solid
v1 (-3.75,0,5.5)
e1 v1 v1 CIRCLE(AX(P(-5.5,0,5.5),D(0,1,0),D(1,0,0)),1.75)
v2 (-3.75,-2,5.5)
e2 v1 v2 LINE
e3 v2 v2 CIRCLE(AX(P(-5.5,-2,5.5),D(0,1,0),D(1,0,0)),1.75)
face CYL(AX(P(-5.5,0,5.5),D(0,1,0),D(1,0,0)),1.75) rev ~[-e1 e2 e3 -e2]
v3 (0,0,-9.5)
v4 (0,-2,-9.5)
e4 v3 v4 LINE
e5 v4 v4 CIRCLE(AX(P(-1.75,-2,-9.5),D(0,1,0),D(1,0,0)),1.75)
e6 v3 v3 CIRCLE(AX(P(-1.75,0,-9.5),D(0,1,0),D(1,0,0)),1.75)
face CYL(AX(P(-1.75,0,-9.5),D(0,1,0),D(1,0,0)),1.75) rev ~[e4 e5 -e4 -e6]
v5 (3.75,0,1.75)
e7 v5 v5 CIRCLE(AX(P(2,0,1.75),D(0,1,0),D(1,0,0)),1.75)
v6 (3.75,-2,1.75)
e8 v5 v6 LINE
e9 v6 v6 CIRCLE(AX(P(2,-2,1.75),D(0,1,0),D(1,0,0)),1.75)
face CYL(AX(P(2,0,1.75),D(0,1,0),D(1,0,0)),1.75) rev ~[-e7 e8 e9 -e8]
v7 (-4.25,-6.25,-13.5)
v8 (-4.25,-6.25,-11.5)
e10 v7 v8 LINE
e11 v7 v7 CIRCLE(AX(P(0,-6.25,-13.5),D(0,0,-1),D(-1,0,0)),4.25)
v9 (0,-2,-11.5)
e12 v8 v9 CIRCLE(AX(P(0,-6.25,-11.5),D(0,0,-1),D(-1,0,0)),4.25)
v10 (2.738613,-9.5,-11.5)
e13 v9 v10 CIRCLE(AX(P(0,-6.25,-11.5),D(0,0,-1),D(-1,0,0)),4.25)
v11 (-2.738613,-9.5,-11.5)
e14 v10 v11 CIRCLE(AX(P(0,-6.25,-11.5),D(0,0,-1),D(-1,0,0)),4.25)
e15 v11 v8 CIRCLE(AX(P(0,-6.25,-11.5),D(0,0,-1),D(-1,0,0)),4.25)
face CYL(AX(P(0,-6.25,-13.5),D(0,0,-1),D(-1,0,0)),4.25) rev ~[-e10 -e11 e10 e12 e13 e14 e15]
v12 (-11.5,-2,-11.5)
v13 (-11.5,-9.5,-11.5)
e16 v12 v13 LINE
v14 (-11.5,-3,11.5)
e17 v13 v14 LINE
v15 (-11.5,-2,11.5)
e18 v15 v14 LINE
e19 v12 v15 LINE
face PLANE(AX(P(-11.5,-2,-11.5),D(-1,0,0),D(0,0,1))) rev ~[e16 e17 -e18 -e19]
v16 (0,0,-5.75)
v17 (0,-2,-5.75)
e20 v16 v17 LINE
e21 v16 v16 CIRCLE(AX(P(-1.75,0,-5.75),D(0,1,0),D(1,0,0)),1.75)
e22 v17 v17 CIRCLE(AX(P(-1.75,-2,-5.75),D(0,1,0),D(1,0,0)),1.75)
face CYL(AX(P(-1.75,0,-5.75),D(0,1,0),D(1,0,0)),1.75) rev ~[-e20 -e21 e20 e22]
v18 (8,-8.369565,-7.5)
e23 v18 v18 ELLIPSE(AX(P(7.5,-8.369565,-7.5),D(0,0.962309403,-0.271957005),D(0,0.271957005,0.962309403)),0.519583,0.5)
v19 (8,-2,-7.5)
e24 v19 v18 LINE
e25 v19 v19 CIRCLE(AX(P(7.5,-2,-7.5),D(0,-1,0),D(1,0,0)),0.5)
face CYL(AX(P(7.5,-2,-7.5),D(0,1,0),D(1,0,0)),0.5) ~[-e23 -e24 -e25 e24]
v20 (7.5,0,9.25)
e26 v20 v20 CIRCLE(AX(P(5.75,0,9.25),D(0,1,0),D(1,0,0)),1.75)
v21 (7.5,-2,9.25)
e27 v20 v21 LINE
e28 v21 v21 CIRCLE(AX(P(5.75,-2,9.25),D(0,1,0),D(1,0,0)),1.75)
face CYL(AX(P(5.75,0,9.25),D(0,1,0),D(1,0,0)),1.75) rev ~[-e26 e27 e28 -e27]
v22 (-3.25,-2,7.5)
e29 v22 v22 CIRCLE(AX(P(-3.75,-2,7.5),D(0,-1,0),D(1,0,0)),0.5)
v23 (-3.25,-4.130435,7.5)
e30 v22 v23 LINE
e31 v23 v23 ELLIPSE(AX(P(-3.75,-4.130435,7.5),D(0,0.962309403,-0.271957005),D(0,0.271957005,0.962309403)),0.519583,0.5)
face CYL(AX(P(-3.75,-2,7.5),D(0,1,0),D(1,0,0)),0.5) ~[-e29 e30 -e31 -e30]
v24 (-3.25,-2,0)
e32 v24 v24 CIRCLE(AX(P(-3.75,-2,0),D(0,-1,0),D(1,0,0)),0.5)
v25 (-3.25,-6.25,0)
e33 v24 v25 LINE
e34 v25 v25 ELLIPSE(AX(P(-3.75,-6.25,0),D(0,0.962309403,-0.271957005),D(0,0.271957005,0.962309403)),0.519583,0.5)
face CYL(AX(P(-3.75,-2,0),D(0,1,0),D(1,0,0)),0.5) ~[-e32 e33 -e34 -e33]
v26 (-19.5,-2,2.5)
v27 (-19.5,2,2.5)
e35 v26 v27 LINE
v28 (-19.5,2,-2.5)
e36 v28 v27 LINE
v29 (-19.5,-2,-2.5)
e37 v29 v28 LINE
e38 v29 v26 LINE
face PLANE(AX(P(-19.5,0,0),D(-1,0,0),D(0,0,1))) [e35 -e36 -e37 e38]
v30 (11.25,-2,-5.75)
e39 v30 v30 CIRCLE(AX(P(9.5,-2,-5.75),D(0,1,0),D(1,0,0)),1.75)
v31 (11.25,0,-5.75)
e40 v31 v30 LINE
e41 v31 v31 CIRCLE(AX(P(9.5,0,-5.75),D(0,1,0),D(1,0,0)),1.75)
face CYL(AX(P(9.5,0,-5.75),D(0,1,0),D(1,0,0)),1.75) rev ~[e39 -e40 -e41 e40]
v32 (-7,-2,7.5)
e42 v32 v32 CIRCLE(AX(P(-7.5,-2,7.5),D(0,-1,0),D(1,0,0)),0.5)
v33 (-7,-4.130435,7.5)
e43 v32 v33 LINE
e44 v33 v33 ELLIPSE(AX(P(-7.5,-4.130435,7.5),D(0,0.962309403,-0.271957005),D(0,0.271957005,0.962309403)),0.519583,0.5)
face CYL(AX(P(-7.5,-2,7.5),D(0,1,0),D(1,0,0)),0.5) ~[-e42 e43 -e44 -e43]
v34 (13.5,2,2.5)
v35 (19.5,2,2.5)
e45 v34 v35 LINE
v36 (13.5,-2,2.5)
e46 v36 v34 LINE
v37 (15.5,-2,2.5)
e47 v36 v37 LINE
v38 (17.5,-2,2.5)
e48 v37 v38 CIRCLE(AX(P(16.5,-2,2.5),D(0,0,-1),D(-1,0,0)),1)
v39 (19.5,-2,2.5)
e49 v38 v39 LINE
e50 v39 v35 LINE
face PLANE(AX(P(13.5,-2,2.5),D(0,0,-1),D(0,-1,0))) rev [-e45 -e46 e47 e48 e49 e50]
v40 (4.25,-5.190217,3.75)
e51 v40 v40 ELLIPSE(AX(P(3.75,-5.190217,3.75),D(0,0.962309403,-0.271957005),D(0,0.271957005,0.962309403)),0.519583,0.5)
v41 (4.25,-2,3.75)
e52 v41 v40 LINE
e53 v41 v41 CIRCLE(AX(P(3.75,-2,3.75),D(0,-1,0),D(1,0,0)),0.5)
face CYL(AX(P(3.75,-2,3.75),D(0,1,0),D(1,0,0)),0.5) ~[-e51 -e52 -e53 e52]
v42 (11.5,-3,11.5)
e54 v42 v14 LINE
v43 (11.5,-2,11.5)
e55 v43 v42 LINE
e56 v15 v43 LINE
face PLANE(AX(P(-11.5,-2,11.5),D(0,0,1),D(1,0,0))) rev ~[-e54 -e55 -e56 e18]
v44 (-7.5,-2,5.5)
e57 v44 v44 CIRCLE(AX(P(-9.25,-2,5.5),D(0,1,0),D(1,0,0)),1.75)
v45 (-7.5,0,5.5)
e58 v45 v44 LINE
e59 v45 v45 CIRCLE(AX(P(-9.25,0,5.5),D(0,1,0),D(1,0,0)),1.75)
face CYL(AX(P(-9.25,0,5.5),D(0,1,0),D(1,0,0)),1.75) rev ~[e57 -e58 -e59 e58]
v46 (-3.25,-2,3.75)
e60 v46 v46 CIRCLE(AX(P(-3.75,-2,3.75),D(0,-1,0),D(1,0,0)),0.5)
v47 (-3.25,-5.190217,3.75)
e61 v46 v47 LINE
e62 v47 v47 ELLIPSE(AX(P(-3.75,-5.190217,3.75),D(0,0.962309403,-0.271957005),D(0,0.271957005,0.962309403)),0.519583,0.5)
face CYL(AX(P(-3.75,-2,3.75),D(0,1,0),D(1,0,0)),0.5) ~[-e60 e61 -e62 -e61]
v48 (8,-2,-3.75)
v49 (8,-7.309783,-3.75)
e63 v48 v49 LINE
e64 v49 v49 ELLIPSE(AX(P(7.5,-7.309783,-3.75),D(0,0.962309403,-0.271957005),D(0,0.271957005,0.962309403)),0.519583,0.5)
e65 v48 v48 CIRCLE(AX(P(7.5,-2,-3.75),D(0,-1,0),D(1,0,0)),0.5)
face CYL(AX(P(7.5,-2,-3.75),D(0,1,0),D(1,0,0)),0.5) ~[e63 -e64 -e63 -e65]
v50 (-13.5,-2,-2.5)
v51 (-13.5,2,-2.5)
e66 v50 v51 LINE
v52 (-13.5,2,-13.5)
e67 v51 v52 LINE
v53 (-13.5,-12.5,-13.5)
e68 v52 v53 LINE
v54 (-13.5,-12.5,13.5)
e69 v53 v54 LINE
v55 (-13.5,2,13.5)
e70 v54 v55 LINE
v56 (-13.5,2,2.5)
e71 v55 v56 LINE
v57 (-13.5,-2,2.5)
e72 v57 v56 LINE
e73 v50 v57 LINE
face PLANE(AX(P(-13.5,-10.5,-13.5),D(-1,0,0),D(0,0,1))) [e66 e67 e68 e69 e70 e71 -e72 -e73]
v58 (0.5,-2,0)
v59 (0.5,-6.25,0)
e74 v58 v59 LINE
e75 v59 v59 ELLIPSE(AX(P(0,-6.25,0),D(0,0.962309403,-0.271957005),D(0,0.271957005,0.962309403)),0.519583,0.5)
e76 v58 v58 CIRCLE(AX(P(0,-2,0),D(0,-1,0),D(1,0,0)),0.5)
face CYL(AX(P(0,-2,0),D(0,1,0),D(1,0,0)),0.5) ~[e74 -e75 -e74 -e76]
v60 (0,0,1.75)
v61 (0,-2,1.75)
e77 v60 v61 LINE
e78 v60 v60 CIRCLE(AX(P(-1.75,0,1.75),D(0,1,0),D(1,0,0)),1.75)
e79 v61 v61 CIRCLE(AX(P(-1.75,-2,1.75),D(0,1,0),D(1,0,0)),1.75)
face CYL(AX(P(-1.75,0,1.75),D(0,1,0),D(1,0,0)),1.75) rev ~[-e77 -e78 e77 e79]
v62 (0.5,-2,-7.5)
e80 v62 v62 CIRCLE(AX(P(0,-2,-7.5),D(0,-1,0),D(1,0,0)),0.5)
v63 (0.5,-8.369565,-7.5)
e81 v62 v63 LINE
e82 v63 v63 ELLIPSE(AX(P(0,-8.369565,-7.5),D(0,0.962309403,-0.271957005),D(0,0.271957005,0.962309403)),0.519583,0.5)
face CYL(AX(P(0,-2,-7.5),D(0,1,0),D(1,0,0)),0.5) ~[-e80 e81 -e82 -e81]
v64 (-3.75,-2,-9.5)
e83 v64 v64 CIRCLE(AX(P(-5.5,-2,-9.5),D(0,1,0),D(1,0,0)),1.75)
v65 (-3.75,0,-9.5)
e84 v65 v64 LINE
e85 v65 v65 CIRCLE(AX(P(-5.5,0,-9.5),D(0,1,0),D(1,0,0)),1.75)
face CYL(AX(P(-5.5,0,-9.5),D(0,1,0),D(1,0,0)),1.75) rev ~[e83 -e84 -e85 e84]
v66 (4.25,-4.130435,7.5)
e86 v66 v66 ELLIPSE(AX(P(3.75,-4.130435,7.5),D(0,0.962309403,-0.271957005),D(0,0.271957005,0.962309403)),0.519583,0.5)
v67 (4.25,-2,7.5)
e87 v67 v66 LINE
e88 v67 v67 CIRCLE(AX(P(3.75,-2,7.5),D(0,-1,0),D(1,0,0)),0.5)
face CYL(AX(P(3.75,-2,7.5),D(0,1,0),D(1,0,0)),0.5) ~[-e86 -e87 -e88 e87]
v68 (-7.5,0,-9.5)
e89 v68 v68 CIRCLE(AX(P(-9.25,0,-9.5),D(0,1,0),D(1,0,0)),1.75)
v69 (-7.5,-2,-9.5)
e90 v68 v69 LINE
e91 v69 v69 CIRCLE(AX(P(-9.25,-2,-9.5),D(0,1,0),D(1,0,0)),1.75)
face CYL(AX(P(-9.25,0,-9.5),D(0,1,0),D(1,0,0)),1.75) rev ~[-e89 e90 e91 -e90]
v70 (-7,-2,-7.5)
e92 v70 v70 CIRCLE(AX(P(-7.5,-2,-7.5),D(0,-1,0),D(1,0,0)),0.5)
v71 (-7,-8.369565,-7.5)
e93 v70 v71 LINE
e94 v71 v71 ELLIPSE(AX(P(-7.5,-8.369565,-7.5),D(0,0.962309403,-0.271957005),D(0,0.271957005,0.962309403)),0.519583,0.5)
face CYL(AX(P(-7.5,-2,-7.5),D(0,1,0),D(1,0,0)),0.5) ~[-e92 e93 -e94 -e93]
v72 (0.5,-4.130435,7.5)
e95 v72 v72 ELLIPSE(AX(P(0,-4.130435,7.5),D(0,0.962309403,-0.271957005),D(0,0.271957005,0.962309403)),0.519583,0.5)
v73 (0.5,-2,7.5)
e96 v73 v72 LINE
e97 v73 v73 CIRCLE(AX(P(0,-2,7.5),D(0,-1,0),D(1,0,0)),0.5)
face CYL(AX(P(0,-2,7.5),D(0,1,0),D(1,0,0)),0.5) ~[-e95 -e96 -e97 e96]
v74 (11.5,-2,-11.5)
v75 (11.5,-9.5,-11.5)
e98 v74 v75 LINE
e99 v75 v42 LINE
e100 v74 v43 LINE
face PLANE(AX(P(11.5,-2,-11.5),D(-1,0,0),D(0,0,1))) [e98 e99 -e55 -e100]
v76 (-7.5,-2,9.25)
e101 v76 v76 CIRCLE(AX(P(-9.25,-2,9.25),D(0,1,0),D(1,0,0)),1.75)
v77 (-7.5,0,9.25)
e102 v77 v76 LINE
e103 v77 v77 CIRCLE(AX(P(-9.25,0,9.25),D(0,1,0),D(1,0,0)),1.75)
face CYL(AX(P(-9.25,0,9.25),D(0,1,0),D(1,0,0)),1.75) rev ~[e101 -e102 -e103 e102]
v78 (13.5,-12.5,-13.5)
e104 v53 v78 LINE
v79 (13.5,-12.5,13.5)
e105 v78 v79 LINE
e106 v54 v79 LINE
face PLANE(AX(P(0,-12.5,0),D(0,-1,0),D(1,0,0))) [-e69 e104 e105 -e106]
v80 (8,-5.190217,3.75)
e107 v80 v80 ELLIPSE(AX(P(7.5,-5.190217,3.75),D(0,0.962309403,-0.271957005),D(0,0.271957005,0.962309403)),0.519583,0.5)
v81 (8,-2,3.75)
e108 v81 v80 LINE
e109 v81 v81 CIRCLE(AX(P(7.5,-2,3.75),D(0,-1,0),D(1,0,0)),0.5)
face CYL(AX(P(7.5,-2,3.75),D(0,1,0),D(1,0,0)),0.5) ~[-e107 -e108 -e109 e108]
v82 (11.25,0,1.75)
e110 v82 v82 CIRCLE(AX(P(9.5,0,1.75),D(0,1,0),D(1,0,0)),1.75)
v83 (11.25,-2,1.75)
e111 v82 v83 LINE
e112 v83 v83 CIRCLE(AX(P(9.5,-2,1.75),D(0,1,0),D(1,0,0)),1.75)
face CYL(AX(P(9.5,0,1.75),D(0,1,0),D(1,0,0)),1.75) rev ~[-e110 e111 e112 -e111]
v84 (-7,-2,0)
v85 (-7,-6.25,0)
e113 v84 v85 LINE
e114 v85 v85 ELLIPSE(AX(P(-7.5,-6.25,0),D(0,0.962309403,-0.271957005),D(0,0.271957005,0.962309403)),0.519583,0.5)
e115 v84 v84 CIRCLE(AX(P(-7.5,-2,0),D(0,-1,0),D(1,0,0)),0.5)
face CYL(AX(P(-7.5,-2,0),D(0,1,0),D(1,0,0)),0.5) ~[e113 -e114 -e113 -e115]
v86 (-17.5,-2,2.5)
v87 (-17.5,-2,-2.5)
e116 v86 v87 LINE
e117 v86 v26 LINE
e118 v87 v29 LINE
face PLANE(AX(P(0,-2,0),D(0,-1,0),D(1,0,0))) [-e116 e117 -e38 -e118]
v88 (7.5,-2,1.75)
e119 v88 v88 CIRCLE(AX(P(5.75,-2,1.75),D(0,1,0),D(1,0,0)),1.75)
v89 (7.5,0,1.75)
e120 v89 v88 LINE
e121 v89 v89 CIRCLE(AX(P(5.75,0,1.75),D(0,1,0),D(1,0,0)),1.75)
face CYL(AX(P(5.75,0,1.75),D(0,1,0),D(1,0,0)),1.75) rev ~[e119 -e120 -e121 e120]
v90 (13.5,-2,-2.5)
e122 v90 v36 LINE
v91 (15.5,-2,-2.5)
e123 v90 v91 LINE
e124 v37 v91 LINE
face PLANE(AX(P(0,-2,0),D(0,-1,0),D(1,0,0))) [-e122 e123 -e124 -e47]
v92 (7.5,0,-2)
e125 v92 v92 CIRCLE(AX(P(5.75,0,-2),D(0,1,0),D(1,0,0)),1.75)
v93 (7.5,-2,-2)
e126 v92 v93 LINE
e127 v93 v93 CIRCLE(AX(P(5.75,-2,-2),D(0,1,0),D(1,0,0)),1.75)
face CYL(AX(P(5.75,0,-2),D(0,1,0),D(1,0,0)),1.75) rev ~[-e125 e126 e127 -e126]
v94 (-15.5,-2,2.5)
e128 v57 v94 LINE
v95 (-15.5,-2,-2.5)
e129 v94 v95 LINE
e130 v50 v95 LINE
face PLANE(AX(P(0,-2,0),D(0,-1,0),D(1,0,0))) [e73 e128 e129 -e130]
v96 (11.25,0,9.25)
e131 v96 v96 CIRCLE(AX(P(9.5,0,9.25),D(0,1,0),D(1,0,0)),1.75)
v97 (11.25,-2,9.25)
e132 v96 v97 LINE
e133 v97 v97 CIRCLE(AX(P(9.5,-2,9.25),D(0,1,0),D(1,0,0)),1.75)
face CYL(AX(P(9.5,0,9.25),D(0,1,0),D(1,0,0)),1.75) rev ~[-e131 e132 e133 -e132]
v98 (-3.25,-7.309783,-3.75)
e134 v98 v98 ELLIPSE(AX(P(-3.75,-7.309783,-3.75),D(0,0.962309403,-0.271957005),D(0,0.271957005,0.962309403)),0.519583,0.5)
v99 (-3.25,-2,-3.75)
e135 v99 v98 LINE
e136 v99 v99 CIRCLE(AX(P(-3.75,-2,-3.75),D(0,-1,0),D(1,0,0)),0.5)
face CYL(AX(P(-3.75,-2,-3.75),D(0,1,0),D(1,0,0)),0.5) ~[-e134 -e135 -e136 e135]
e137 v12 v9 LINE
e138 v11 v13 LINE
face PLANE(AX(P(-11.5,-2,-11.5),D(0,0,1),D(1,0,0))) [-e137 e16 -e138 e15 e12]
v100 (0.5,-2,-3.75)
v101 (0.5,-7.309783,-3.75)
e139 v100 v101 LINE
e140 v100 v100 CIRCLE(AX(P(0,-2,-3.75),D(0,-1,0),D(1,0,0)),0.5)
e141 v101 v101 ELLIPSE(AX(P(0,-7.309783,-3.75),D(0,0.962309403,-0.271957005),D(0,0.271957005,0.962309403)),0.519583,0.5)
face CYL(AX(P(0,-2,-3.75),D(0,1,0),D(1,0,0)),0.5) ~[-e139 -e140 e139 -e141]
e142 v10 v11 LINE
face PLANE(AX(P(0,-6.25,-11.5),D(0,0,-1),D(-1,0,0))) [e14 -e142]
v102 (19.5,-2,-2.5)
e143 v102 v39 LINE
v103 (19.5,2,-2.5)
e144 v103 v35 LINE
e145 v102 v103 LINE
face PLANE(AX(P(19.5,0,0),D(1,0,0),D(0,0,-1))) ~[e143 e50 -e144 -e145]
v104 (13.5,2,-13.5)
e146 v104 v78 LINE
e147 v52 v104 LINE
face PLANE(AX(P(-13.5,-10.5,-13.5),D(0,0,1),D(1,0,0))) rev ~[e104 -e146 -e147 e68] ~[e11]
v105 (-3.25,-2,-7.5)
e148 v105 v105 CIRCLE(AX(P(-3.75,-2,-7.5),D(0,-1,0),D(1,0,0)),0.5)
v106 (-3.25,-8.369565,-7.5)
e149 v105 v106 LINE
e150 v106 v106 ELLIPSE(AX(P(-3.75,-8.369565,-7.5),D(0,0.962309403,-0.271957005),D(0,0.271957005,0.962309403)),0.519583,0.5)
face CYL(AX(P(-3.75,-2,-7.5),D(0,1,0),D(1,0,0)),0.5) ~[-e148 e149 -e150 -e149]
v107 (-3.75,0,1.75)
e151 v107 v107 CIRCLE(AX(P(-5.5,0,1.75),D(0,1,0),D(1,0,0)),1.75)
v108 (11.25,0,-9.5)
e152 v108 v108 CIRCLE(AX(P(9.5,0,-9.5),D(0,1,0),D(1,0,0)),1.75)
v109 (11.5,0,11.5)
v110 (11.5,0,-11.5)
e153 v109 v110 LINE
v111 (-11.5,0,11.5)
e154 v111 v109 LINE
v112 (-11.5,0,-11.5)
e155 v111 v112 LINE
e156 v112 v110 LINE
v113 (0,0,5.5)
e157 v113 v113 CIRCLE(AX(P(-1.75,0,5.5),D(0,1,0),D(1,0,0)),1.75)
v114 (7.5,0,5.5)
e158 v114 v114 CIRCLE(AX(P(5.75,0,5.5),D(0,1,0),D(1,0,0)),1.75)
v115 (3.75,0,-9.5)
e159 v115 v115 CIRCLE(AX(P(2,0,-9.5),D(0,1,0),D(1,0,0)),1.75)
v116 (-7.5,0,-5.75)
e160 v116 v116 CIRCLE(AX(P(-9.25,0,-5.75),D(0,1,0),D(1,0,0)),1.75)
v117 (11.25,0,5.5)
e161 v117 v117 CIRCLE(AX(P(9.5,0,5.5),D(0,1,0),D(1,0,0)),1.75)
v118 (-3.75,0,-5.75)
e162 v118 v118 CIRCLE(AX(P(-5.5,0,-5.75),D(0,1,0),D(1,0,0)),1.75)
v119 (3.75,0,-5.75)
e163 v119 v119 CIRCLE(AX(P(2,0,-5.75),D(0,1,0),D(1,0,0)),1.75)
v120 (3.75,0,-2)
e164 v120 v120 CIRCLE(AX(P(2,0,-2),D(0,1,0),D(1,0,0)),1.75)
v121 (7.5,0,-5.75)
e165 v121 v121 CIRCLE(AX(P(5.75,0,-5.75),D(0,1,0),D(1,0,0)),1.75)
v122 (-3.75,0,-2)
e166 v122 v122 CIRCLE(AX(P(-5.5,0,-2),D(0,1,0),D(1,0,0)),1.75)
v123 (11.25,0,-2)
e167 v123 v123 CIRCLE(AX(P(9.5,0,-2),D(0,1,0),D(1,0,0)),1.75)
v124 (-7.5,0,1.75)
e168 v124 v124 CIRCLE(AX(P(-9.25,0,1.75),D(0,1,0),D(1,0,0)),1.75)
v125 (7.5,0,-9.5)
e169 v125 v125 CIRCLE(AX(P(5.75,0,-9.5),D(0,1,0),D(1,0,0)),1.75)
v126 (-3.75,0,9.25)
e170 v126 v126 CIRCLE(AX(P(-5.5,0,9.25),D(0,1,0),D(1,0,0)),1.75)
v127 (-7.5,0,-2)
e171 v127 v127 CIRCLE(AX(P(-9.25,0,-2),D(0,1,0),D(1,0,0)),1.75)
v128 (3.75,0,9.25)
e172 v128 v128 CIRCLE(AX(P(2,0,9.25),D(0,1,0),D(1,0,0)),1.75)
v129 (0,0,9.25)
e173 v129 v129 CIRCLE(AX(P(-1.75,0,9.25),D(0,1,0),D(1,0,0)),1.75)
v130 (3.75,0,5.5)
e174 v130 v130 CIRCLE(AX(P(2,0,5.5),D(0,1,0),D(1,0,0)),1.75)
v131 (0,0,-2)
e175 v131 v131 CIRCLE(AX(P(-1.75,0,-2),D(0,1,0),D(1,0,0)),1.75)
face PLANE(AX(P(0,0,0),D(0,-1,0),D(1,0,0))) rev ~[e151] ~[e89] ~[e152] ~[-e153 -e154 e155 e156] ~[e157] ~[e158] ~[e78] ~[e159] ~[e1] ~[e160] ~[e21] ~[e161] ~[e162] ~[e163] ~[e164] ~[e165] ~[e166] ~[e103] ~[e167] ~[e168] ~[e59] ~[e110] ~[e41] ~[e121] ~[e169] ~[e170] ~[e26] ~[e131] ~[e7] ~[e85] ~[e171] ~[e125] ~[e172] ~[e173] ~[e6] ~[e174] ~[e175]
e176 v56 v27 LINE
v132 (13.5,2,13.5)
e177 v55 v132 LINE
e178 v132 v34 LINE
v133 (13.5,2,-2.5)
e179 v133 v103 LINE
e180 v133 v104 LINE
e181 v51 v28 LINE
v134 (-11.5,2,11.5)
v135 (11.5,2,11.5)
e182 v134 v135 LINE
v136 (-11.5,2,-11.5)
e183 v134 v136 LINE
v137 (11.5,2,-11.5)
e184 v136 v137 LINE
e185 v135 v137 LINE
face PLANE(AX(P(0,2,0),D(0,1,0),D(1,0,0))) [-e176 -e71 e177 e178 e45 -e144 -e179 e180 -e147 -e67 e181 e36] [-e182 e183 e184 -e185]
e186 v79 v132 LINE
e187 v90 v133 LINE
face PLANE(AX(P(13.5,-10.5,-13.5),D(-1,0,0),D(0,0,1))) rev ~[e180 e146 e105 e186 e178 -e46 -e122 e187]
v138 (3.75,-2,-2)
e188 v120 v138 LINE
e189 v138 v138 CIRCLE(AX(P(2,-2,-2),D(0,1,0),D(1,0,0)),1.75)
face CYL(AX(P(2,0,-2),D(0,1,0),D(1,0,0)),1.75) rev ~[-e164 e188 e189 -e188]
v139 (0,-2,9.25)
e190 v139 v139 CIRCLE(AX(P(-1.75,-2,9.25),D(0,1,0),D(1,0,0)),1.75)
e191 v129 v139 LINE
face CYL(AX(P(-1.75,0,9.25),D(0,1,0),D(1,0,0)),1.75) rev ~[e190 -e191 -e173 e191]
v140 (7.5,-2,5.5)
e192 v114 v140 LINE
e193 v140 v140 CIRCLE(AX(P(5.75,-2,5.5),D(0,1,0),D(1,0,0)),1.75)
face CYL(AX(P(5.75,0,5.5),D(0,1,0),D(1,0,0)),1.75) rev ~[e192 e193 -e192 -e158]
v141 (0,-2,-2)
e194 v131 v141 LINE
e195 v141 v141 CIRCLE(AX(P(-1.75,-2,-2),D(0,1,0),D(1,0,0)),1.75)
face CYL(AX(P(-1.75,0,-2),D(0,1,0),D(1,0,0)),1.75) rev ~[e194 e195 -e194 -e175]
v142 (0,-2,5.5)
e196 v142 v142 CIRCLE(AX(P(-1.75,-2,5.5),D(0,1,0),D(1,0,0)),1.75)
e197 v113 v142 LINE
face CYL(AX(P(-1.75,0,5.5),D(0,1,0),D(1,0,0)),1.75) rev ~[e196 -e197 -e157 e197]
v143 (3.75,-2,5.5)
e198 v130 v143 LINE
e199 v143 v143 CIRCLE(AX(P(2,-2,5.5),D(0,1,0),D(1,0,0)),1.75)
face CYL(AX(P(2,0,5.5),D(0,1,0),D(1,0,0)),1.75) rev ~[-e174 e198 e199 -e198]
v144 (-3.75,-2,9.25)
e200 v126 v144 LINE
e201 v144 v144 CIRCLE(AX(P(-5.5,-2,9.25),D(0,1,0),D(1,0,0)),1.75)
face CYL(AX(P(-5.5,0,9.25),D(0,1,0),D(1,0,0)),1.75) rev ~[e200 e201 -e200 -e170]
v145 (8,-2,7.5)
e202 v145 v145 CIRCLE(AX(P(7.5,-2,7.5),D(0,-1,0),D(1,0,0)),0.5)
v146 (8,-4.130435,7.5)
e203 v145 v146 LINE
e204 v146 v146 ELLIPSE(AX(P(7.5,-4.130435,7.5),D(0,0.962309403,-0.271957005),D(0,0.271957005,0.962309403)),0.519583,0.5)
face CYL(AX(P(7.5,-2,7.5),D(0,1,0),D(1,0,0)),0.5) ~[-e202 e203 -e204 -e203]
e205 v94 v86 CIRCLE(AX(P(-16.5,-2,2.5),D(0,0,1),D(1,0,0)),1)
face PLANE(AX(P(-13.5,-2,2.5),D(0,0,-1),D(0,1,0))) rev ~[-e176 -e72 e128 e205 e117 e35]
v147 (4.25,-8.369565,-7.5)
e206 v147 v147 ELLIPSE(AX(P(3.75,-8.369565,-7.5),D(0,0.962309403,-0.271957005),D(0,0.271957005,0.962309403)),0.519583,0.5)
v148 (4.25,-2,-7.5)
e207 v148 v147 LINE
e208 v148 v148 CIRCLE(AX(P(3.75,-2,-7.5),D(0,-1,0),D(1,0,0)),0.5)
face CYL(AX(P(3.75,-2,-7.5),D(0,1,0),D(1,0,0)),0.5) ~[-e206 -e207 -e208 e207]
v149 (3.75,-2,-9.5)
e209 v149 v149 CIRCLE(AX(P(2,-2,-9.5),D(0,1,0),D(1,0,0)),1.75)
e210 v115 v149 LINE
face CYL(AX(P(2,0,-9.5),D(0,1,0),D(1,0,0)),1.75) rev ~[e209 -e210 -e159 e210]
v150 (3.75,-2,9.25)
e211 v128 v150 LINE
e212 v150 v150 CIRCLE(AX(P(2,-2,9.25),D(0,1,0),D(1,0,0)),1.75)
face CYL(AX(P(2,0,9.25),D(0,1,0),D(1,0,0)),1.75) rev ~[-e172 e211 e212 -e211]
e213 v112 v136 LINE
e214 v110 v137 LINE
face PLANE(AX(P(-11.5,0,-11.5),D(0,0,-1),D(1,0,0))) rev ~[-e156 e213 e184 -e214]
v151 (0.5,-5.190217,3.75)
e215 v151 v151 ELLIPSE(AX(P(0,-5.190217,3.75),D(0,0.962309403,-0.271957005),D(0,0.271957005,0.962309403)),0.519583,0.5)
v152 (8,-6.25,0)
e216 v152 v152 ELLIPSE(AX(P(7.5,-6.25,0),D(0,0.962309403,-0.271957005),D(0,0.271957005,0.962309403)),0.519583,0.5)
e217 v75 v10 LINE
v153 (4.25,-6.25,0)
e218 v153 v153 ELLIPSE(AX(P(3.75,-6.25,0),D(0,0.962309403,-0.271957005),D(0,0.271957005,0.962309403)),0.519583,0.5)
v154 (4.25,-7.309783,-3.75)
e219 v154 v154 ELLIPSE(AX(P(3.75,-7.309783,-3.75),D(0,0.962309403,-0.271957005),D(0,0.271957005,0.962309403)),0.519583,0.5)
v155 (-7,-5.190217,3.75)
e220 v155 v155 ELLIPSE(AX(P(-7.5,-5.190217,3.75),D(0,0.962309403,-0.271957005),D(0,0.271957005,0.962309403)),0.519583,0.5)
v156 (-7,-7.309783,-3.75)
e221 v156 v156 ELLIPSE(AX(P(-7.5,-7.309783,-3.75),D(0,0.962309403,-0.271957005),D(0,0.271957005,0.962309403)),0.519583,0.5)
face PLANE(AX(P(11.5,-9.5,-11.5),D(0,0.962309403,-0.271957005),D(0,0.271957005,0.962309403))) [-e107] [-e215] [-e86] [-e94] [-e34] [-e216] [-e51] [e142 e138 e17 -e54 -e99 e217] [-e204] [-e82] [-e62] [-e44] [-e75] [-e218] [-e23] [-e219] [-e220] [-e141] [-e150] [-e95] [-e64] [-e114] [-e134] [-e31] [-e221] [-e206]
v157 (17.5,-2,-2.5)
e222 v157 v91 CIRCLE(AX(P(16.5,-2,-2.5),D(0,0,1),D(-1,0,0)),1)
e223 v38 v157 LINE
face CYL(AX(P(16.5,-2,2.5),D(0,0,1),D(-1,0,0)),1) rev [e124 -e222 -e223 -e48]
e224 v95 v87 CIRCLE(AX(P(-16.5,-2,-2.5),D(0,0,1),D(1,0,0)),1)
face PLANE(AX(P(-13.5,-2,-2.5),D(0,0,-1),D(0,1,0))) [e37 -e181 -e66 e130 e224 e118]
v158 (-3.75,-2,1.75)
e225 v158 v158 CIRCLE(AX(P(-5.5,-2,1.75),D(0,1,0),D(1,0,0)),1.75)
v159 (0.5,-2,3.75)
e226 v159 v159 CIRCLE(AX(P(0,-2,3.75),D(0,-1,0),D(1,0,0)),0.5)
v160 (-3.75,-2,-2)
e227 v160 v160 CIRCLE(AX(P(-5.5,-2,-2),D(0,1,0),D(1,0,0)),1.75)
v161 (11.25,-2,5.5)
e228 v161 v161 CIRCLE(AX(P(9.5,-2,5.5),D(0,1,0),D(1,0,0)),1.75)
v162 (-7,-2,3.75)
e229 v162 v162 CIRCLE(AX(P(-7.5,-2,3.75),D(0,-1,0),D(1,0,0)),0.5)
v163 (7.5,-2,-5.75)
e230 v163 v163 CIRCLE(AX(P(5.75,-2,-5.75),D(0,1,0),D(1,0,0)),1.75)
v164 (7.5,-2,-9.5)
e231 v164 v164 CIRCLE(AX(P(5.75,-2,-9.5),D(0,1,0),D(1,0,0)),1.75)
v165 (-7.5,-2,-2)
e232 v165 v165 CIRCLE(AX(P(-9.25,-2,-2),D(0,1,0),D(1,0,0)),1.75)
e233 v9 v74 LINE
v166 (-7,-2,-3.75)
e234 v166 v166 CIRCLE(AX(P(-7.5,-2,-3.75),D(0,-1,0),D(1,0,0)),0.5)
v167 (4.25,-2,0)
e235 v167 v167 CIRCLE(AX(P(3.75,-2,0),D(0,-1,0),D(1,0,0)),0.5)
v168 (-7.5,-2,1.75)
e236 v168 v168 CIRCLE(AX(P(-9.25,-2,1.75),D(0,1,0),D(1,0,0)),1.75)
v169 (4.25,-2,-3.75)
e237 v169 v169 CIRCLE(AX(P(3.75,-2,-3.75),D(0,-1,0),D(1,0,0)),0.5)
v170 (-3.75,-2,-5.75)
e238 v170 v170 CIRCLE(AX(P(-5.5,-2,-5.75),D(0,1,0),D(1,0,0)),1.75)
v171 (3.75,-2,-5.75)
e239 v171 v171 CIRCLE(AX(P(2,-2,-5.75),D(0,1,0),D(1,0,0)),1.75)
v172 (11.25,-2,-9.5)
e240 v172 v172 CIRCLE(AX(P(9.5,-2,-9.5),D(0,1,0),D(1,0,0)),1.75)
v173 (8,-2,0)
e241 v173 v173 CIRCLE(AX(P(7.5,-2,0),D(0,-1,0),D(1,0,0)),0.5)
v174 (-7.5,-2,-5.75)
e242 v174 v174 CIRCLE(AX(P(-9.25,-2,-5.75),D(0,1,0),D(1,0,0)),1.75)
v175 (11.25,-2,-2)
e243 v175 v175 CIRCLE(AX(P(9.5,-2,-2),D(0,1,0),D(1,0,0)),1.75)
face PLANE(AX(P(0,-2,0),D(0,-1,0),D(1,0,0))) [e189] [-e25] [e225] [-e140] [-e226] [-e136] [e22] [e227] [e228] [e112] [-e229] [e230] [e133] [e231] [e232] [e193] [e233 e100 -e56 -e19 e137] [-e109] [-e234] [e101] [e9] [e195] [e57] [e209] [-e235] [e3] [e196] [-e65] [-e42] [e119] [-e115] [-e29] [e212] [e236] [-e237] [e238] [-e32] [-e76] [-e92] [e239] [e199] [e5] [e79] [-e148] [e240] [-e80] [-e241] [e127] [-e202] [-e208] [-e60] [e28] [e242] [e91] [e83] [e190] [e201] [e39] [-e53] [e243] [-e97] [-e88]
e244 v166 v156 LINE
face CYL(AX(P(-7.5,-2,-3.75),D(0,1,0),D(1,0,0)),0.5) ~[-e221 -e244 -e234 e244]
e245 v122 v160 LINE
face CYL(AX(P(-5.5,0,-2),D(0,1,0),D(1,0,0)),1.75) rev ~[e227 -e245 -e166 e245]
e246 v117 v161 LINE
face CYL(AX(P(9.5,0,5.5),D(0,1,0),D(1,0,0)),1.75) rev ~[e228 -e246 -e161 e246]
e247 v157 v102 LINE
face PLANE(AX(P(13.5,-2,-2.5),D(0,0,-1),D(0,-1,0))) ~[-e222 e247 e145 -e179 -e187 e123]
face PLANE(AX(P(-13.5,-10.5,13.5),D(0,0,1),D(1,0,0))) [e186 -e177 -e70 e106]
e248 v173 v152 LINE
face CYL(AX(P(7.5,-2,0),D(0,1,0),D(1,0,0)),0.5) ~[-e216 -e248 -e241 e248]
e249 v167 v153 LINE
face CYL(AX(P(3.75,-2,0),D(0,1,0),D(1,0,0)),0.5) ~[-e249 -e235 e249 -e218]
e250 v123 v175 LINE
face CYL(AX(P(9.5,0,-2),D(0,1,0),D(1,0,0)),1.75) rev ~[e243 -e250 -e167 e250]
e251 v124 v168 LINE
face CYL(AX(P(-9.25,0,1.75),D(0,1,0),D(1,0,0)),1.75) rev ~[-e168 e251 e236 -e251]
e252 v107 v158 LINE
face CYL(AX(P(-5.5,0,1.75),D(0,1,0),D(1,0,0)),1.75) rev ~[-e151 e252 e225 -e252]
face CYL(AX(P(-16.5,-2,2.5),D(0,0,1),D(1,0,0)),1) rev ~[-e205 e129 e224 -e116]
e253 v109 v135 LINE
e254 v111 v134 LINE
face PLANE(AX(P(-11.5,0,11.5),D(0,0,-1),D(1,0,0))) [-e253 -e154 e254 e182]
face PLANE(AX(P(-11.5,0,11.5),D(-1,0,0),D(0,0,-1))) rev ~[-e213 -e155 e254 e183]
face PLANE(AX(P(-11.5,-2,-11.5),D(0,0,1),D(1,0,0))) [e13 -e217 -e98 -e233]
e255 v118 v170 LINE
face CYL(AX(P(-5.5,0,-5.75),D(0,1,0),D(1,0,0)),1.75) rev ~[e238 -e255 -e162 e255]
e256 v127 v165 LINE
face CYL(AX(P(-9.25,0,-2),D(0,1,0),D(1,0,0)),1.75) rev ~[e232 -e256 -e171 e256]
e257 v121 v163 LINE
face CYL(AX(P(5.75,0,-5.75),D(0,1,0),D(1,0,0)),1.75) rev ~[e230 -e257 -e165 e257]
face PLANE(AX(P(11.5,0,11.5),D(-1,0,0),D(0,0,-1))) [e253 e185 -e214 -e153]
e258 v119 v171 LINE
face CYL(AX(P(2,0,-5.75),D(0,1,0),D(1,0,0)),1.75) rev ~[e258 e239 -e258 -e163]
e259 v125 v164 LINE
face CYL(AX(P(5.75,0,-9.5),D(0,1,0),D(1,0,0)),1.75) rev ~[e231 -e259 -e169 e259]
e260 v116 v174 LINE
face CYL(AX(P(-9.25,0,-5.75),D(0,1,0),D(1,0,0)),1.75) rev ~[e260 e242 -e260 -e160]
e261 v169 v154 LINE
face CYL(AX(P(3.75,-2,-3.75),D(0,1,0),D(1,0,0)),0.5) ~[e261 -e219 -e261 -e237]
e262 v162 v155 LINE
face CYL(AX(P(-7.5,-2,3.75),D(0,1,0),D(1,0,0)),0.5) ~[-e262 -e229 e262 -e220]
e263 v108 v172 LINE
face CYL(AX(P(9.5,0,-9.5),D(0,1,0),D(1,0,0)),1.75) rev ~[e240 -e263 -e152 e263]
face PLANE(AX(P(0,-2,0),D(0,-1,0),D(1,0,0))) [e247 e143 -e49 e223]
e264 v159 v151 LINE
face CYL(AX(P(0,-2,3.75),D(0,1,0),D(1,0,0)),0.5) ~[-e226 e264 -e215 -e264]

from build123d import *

# Parameters (mm, degrees)
SKETCH1_W            = 27
SKETCH1_H            = 27
SKETCH1_W_2          = 23
SKETCH1_H_2          = 23
BOSS_EXTRUDE1_DEPTH  = 2
SKETCH2_W            = 27
SKETCH2_H            = 27
BOSS_EXTRUDE2_DEPTH  = 2
SKETCH12_W           = 5
SKETCH12_H           = 4
BOSS_EXTRUDE9_DEPTH  = 6
SKETCH13_R           = 1.75
CUT_EXTRUDE4_DEPTH   = 2
LPATTERN3_COUNT      = 6
LPATTERN3_PITCH      = 3.75
LPATTERN3_COUNT_DIR2 = 6
LPATTERN3_PITCH_DIR2 = 3.75
CUT_EXTRUDE5_REACH   = 18
SKETCH14_W           = 27
SKETCH14_H           = 27
SKETCH14_W_2         = 23
SKETCH14_H_2         = 23
BOSS_EXTRUDE10_DEPTH = 8.5
BOSS_EXTRUDE11_DEPTH = 23
SKETCH18_W           = 27
SKETCH18_H           = 27
BOSS_EXTRUDE12_DEPTH = 2
SKETCH17_R           = 4.25
CUT_EXTRUDE10_DEPTH  = 2
SKETCH19_R           = 0.5
BOSS_EXTRUDE13_DEPTH = 6.51087


with BuildPart() as part:
    # Sketch1 → Boss-Extrude1 (new body)
    with BuildSketch(Plane(origin=(0, 0, 0), x_dir=(1, 0, 0), z_dir=(0, 1, 0))):
        Rectangle(SKETCH1_W, SKETCH1_H)
        Rectangle(SKETCH1_W_2, SKETCH1_H_2, mode=Mode.SUBTRACT)
    extrude(amount=BOSS_EXTRUDE1_DEPTH)

    # Sketch2 → Boss-Extrude2 (add)
    with BuildSketch(Plane.XZ):
        Rectangle(SKETCH2_W, SKETCH2_H)
    extrude(amount=BOSS_EXTRUDE2_DEPTH)

    # Sketch12 → Boss-Extrude9 (add)
    with BuildSketch(Plane.ZY.offset(13.5)):
        Rectangle(SKETCH12_W, SKETCH12_H)
    boss_extrude9 = extrude(amount=BOSS_EXTRUDE9_DEPTH)

    # Mirror1: Boss-Extrude9 across plane
    add(boss_extrude9.mirror(Plane(origin=(0, 0, 0), x_dir=(0, 0, 1), z_dir=(1, 0, 0))))

    # Sketch13 → Cut-Extrude4 (cut)
    with BuildSketch(Plane(origin=(0, 0, 0), x_dir=(1, 0, 0), z_dir=(0, 1, 0))):
        with Locations((9.5, 9.5)):
            Circle(SKETCH13_R)
    cut_extrude4 = extrude(amount=-CUT_EXTRUDE4_DEPTH, mode=Mode.SUBTRACT)

    # LPattern3: Cut-Extrude4 6 × 6
    with Locations(*[(-j * LPATTERN3_PITCH_DIR2, 0, i * LPATTERN3_PITCH) for i in range(LPATTERN3_COUNT) for j in range(LPATTERN3_COUNT_DIR2) if (i, j) != (0, 0)]):
        add(cut_extrude4, mode=Mode.SUBTRACT)

    # Sketch15 → Cut-Extrude5 (cut, up to next)
    with BuildSketch(Plane.XY.offset(2.5), mode=Mode.PRIVATE) as cut_extrude5_sk1:
        with BuildLine():
            Line((-17.5, -2), (-15.5, -2))
            ThreePointArc((-15.5, -2), (-16.5, -1), (-17.5, -2))
        make_face()
    cut_extrude5_tool1 = extrude(cut_extrude5_sk1.sketch, amount=-CUT_EXTRUDE5_REACH, mode=Mode.PRIVATE) & part.part
    add(cut_extrude5_tool1.solids().sort_by_distance((-16.5, -1.575587, 2.5))[0], mode=Mode.SUBTRACT)
    # Sketch15 → Cut-Extrude5 (cut, up to next)
    with BuildSketch(Plane.XY.offset(2.5), mode=Mode.PRIVATE) as cut_extrude5_sk2:
        with BuildLine():
            Line((17.5, -2), (15.5, -2))
            ThreePointArc((15.5, -2), (16.5, -1), (17.5, -2))
        make_face()
    cut_extrude5_tool2 = extrude(cut_extrude5_sk2.sketch, amount=-CUT_EXTRUDE5_REACH, mode=Mode.PRIVATE) & part.part
    add(cut_extrude5_tool2.solids().sort_by_distance((16.5, -1.575587, 2.5))[0], mode=Mode.SUBTRACT)

    # Sketch14 → Boss-Extrude10 (add)
    with BuildSketch(Plane.XZ.offset(2)):
        Rectangle(SKETCH14_W, SKETCH14_H)
        Rectangle(SKETCH14_W_2, SKETCH14_H_2, mode=Mode.SUBTRACT)
    extrude(amount=BOSS_EXTRUDE10_DEPTH)

    # Sketch16 → Boss-Extrude11 (add)
    with BuildSketch(Plane.ZY.offset(-11.5)):
        Polygon((11.5, -10.5), (-11.5, -10.5), (-11.5, -9.5), (11.5, -3), align=None)
    extrude(amount=BOSS_EXTRUDE11_DEPTH)

    # Sketch18 → Boss-Extrude12 (add)
    with BuildSketch(Plane.XZ.offset(10.5)):
        Rectangle(SKETCH18_W, SKETCH18_H)
    extrude(amount=BOSS_EXTRUDE12_DEPTH)

    # Sketch17 → Cut-Extrude10 (cut)
    with BuildSketch(Plane(origin=(0, 0, -13.5), x_dir=(-1, 0, 0), z_dir=(0, 0, -1))):
        with Locations((0, -6.25)):
            Circle(SKETCH17_R)
    extrude(amount=-CUT_EXTRUDE10_DEPTH, mode=Mode.SUBTRACT)

    # Sketch19 → Boss-Extrude13 (add)
    with BuildSketch(Plane.XZ.offset(2)):
        Circle(SKETCH19_R)
        with Locations((3.75, 0)):
            Circle(SKETCH19_R)
        with Locations((0, 3.75)):
            Circle(SKETCH19_R)
        with Locations((-3.75, 3.75)):
            Circle(SKETCH19_R)
        with Locations((3.75, 3.75)):
            Circle(SKETCH19_R)
        with Locations((7.5, 3.75)):
            Circle(SKETCH19_R)
        with Locations((7.5, 7.5)):
            Circle(SKETCH19_R)
        with Locations((3.75, 7.5)):
            Circle(SKETCH19_R)
        with Locations((0, 7.5)):
            Circle(SKETCH19_R)
        with Locations((-3.75, 7.5)):
            Circle(SKETCH19_R)
        with Locations((-7.5, 7.5)):
            Circle(SKETCH19_R)
        with Locations((-7.5, 3.75)):
            Circle(SKETCH19_R)
        with Locations((-7.5, 0)):
            Circle(SKETCH19_R)
        with Locations((-3.75, 0)):
            Circle(SKETCH19_R)
        with Locations((-3.75, -3.75)):
            Circle(SKETCH19_R)
        with Locations((-7.5, -3.75)):
            Circle(SKETCH19_R)
        with Locations((-7.5, -7.5)):
            Circle(SKETCH19_R)
        with Locations((-3.75, -7.5)):
            Circle(SKETCH19_R)
        with Locations((0, -7.5)):
            Circle(SKETCH19_R)
        with Locations((0, -3.75)):
            Circle(SKETCH19_R)
        with Locations((3.75, -3.75)):
            Circle(SKETCH19_R)
        with Locations((3.75, -7.5)):
            Circle(SKETCH19_R)
        with Locations((7.5, -7.5)):
            Circle(SKETCH19_R)
        with Locations((7.5, -3.75)):
            Circle(SKETCH19_R)
        with Locations((7.5, 0)):
            Circle(SKETCH19_R)
    extrude(amount=BOSS_EXTRUDE13_DEPTH)


solid = part.part
